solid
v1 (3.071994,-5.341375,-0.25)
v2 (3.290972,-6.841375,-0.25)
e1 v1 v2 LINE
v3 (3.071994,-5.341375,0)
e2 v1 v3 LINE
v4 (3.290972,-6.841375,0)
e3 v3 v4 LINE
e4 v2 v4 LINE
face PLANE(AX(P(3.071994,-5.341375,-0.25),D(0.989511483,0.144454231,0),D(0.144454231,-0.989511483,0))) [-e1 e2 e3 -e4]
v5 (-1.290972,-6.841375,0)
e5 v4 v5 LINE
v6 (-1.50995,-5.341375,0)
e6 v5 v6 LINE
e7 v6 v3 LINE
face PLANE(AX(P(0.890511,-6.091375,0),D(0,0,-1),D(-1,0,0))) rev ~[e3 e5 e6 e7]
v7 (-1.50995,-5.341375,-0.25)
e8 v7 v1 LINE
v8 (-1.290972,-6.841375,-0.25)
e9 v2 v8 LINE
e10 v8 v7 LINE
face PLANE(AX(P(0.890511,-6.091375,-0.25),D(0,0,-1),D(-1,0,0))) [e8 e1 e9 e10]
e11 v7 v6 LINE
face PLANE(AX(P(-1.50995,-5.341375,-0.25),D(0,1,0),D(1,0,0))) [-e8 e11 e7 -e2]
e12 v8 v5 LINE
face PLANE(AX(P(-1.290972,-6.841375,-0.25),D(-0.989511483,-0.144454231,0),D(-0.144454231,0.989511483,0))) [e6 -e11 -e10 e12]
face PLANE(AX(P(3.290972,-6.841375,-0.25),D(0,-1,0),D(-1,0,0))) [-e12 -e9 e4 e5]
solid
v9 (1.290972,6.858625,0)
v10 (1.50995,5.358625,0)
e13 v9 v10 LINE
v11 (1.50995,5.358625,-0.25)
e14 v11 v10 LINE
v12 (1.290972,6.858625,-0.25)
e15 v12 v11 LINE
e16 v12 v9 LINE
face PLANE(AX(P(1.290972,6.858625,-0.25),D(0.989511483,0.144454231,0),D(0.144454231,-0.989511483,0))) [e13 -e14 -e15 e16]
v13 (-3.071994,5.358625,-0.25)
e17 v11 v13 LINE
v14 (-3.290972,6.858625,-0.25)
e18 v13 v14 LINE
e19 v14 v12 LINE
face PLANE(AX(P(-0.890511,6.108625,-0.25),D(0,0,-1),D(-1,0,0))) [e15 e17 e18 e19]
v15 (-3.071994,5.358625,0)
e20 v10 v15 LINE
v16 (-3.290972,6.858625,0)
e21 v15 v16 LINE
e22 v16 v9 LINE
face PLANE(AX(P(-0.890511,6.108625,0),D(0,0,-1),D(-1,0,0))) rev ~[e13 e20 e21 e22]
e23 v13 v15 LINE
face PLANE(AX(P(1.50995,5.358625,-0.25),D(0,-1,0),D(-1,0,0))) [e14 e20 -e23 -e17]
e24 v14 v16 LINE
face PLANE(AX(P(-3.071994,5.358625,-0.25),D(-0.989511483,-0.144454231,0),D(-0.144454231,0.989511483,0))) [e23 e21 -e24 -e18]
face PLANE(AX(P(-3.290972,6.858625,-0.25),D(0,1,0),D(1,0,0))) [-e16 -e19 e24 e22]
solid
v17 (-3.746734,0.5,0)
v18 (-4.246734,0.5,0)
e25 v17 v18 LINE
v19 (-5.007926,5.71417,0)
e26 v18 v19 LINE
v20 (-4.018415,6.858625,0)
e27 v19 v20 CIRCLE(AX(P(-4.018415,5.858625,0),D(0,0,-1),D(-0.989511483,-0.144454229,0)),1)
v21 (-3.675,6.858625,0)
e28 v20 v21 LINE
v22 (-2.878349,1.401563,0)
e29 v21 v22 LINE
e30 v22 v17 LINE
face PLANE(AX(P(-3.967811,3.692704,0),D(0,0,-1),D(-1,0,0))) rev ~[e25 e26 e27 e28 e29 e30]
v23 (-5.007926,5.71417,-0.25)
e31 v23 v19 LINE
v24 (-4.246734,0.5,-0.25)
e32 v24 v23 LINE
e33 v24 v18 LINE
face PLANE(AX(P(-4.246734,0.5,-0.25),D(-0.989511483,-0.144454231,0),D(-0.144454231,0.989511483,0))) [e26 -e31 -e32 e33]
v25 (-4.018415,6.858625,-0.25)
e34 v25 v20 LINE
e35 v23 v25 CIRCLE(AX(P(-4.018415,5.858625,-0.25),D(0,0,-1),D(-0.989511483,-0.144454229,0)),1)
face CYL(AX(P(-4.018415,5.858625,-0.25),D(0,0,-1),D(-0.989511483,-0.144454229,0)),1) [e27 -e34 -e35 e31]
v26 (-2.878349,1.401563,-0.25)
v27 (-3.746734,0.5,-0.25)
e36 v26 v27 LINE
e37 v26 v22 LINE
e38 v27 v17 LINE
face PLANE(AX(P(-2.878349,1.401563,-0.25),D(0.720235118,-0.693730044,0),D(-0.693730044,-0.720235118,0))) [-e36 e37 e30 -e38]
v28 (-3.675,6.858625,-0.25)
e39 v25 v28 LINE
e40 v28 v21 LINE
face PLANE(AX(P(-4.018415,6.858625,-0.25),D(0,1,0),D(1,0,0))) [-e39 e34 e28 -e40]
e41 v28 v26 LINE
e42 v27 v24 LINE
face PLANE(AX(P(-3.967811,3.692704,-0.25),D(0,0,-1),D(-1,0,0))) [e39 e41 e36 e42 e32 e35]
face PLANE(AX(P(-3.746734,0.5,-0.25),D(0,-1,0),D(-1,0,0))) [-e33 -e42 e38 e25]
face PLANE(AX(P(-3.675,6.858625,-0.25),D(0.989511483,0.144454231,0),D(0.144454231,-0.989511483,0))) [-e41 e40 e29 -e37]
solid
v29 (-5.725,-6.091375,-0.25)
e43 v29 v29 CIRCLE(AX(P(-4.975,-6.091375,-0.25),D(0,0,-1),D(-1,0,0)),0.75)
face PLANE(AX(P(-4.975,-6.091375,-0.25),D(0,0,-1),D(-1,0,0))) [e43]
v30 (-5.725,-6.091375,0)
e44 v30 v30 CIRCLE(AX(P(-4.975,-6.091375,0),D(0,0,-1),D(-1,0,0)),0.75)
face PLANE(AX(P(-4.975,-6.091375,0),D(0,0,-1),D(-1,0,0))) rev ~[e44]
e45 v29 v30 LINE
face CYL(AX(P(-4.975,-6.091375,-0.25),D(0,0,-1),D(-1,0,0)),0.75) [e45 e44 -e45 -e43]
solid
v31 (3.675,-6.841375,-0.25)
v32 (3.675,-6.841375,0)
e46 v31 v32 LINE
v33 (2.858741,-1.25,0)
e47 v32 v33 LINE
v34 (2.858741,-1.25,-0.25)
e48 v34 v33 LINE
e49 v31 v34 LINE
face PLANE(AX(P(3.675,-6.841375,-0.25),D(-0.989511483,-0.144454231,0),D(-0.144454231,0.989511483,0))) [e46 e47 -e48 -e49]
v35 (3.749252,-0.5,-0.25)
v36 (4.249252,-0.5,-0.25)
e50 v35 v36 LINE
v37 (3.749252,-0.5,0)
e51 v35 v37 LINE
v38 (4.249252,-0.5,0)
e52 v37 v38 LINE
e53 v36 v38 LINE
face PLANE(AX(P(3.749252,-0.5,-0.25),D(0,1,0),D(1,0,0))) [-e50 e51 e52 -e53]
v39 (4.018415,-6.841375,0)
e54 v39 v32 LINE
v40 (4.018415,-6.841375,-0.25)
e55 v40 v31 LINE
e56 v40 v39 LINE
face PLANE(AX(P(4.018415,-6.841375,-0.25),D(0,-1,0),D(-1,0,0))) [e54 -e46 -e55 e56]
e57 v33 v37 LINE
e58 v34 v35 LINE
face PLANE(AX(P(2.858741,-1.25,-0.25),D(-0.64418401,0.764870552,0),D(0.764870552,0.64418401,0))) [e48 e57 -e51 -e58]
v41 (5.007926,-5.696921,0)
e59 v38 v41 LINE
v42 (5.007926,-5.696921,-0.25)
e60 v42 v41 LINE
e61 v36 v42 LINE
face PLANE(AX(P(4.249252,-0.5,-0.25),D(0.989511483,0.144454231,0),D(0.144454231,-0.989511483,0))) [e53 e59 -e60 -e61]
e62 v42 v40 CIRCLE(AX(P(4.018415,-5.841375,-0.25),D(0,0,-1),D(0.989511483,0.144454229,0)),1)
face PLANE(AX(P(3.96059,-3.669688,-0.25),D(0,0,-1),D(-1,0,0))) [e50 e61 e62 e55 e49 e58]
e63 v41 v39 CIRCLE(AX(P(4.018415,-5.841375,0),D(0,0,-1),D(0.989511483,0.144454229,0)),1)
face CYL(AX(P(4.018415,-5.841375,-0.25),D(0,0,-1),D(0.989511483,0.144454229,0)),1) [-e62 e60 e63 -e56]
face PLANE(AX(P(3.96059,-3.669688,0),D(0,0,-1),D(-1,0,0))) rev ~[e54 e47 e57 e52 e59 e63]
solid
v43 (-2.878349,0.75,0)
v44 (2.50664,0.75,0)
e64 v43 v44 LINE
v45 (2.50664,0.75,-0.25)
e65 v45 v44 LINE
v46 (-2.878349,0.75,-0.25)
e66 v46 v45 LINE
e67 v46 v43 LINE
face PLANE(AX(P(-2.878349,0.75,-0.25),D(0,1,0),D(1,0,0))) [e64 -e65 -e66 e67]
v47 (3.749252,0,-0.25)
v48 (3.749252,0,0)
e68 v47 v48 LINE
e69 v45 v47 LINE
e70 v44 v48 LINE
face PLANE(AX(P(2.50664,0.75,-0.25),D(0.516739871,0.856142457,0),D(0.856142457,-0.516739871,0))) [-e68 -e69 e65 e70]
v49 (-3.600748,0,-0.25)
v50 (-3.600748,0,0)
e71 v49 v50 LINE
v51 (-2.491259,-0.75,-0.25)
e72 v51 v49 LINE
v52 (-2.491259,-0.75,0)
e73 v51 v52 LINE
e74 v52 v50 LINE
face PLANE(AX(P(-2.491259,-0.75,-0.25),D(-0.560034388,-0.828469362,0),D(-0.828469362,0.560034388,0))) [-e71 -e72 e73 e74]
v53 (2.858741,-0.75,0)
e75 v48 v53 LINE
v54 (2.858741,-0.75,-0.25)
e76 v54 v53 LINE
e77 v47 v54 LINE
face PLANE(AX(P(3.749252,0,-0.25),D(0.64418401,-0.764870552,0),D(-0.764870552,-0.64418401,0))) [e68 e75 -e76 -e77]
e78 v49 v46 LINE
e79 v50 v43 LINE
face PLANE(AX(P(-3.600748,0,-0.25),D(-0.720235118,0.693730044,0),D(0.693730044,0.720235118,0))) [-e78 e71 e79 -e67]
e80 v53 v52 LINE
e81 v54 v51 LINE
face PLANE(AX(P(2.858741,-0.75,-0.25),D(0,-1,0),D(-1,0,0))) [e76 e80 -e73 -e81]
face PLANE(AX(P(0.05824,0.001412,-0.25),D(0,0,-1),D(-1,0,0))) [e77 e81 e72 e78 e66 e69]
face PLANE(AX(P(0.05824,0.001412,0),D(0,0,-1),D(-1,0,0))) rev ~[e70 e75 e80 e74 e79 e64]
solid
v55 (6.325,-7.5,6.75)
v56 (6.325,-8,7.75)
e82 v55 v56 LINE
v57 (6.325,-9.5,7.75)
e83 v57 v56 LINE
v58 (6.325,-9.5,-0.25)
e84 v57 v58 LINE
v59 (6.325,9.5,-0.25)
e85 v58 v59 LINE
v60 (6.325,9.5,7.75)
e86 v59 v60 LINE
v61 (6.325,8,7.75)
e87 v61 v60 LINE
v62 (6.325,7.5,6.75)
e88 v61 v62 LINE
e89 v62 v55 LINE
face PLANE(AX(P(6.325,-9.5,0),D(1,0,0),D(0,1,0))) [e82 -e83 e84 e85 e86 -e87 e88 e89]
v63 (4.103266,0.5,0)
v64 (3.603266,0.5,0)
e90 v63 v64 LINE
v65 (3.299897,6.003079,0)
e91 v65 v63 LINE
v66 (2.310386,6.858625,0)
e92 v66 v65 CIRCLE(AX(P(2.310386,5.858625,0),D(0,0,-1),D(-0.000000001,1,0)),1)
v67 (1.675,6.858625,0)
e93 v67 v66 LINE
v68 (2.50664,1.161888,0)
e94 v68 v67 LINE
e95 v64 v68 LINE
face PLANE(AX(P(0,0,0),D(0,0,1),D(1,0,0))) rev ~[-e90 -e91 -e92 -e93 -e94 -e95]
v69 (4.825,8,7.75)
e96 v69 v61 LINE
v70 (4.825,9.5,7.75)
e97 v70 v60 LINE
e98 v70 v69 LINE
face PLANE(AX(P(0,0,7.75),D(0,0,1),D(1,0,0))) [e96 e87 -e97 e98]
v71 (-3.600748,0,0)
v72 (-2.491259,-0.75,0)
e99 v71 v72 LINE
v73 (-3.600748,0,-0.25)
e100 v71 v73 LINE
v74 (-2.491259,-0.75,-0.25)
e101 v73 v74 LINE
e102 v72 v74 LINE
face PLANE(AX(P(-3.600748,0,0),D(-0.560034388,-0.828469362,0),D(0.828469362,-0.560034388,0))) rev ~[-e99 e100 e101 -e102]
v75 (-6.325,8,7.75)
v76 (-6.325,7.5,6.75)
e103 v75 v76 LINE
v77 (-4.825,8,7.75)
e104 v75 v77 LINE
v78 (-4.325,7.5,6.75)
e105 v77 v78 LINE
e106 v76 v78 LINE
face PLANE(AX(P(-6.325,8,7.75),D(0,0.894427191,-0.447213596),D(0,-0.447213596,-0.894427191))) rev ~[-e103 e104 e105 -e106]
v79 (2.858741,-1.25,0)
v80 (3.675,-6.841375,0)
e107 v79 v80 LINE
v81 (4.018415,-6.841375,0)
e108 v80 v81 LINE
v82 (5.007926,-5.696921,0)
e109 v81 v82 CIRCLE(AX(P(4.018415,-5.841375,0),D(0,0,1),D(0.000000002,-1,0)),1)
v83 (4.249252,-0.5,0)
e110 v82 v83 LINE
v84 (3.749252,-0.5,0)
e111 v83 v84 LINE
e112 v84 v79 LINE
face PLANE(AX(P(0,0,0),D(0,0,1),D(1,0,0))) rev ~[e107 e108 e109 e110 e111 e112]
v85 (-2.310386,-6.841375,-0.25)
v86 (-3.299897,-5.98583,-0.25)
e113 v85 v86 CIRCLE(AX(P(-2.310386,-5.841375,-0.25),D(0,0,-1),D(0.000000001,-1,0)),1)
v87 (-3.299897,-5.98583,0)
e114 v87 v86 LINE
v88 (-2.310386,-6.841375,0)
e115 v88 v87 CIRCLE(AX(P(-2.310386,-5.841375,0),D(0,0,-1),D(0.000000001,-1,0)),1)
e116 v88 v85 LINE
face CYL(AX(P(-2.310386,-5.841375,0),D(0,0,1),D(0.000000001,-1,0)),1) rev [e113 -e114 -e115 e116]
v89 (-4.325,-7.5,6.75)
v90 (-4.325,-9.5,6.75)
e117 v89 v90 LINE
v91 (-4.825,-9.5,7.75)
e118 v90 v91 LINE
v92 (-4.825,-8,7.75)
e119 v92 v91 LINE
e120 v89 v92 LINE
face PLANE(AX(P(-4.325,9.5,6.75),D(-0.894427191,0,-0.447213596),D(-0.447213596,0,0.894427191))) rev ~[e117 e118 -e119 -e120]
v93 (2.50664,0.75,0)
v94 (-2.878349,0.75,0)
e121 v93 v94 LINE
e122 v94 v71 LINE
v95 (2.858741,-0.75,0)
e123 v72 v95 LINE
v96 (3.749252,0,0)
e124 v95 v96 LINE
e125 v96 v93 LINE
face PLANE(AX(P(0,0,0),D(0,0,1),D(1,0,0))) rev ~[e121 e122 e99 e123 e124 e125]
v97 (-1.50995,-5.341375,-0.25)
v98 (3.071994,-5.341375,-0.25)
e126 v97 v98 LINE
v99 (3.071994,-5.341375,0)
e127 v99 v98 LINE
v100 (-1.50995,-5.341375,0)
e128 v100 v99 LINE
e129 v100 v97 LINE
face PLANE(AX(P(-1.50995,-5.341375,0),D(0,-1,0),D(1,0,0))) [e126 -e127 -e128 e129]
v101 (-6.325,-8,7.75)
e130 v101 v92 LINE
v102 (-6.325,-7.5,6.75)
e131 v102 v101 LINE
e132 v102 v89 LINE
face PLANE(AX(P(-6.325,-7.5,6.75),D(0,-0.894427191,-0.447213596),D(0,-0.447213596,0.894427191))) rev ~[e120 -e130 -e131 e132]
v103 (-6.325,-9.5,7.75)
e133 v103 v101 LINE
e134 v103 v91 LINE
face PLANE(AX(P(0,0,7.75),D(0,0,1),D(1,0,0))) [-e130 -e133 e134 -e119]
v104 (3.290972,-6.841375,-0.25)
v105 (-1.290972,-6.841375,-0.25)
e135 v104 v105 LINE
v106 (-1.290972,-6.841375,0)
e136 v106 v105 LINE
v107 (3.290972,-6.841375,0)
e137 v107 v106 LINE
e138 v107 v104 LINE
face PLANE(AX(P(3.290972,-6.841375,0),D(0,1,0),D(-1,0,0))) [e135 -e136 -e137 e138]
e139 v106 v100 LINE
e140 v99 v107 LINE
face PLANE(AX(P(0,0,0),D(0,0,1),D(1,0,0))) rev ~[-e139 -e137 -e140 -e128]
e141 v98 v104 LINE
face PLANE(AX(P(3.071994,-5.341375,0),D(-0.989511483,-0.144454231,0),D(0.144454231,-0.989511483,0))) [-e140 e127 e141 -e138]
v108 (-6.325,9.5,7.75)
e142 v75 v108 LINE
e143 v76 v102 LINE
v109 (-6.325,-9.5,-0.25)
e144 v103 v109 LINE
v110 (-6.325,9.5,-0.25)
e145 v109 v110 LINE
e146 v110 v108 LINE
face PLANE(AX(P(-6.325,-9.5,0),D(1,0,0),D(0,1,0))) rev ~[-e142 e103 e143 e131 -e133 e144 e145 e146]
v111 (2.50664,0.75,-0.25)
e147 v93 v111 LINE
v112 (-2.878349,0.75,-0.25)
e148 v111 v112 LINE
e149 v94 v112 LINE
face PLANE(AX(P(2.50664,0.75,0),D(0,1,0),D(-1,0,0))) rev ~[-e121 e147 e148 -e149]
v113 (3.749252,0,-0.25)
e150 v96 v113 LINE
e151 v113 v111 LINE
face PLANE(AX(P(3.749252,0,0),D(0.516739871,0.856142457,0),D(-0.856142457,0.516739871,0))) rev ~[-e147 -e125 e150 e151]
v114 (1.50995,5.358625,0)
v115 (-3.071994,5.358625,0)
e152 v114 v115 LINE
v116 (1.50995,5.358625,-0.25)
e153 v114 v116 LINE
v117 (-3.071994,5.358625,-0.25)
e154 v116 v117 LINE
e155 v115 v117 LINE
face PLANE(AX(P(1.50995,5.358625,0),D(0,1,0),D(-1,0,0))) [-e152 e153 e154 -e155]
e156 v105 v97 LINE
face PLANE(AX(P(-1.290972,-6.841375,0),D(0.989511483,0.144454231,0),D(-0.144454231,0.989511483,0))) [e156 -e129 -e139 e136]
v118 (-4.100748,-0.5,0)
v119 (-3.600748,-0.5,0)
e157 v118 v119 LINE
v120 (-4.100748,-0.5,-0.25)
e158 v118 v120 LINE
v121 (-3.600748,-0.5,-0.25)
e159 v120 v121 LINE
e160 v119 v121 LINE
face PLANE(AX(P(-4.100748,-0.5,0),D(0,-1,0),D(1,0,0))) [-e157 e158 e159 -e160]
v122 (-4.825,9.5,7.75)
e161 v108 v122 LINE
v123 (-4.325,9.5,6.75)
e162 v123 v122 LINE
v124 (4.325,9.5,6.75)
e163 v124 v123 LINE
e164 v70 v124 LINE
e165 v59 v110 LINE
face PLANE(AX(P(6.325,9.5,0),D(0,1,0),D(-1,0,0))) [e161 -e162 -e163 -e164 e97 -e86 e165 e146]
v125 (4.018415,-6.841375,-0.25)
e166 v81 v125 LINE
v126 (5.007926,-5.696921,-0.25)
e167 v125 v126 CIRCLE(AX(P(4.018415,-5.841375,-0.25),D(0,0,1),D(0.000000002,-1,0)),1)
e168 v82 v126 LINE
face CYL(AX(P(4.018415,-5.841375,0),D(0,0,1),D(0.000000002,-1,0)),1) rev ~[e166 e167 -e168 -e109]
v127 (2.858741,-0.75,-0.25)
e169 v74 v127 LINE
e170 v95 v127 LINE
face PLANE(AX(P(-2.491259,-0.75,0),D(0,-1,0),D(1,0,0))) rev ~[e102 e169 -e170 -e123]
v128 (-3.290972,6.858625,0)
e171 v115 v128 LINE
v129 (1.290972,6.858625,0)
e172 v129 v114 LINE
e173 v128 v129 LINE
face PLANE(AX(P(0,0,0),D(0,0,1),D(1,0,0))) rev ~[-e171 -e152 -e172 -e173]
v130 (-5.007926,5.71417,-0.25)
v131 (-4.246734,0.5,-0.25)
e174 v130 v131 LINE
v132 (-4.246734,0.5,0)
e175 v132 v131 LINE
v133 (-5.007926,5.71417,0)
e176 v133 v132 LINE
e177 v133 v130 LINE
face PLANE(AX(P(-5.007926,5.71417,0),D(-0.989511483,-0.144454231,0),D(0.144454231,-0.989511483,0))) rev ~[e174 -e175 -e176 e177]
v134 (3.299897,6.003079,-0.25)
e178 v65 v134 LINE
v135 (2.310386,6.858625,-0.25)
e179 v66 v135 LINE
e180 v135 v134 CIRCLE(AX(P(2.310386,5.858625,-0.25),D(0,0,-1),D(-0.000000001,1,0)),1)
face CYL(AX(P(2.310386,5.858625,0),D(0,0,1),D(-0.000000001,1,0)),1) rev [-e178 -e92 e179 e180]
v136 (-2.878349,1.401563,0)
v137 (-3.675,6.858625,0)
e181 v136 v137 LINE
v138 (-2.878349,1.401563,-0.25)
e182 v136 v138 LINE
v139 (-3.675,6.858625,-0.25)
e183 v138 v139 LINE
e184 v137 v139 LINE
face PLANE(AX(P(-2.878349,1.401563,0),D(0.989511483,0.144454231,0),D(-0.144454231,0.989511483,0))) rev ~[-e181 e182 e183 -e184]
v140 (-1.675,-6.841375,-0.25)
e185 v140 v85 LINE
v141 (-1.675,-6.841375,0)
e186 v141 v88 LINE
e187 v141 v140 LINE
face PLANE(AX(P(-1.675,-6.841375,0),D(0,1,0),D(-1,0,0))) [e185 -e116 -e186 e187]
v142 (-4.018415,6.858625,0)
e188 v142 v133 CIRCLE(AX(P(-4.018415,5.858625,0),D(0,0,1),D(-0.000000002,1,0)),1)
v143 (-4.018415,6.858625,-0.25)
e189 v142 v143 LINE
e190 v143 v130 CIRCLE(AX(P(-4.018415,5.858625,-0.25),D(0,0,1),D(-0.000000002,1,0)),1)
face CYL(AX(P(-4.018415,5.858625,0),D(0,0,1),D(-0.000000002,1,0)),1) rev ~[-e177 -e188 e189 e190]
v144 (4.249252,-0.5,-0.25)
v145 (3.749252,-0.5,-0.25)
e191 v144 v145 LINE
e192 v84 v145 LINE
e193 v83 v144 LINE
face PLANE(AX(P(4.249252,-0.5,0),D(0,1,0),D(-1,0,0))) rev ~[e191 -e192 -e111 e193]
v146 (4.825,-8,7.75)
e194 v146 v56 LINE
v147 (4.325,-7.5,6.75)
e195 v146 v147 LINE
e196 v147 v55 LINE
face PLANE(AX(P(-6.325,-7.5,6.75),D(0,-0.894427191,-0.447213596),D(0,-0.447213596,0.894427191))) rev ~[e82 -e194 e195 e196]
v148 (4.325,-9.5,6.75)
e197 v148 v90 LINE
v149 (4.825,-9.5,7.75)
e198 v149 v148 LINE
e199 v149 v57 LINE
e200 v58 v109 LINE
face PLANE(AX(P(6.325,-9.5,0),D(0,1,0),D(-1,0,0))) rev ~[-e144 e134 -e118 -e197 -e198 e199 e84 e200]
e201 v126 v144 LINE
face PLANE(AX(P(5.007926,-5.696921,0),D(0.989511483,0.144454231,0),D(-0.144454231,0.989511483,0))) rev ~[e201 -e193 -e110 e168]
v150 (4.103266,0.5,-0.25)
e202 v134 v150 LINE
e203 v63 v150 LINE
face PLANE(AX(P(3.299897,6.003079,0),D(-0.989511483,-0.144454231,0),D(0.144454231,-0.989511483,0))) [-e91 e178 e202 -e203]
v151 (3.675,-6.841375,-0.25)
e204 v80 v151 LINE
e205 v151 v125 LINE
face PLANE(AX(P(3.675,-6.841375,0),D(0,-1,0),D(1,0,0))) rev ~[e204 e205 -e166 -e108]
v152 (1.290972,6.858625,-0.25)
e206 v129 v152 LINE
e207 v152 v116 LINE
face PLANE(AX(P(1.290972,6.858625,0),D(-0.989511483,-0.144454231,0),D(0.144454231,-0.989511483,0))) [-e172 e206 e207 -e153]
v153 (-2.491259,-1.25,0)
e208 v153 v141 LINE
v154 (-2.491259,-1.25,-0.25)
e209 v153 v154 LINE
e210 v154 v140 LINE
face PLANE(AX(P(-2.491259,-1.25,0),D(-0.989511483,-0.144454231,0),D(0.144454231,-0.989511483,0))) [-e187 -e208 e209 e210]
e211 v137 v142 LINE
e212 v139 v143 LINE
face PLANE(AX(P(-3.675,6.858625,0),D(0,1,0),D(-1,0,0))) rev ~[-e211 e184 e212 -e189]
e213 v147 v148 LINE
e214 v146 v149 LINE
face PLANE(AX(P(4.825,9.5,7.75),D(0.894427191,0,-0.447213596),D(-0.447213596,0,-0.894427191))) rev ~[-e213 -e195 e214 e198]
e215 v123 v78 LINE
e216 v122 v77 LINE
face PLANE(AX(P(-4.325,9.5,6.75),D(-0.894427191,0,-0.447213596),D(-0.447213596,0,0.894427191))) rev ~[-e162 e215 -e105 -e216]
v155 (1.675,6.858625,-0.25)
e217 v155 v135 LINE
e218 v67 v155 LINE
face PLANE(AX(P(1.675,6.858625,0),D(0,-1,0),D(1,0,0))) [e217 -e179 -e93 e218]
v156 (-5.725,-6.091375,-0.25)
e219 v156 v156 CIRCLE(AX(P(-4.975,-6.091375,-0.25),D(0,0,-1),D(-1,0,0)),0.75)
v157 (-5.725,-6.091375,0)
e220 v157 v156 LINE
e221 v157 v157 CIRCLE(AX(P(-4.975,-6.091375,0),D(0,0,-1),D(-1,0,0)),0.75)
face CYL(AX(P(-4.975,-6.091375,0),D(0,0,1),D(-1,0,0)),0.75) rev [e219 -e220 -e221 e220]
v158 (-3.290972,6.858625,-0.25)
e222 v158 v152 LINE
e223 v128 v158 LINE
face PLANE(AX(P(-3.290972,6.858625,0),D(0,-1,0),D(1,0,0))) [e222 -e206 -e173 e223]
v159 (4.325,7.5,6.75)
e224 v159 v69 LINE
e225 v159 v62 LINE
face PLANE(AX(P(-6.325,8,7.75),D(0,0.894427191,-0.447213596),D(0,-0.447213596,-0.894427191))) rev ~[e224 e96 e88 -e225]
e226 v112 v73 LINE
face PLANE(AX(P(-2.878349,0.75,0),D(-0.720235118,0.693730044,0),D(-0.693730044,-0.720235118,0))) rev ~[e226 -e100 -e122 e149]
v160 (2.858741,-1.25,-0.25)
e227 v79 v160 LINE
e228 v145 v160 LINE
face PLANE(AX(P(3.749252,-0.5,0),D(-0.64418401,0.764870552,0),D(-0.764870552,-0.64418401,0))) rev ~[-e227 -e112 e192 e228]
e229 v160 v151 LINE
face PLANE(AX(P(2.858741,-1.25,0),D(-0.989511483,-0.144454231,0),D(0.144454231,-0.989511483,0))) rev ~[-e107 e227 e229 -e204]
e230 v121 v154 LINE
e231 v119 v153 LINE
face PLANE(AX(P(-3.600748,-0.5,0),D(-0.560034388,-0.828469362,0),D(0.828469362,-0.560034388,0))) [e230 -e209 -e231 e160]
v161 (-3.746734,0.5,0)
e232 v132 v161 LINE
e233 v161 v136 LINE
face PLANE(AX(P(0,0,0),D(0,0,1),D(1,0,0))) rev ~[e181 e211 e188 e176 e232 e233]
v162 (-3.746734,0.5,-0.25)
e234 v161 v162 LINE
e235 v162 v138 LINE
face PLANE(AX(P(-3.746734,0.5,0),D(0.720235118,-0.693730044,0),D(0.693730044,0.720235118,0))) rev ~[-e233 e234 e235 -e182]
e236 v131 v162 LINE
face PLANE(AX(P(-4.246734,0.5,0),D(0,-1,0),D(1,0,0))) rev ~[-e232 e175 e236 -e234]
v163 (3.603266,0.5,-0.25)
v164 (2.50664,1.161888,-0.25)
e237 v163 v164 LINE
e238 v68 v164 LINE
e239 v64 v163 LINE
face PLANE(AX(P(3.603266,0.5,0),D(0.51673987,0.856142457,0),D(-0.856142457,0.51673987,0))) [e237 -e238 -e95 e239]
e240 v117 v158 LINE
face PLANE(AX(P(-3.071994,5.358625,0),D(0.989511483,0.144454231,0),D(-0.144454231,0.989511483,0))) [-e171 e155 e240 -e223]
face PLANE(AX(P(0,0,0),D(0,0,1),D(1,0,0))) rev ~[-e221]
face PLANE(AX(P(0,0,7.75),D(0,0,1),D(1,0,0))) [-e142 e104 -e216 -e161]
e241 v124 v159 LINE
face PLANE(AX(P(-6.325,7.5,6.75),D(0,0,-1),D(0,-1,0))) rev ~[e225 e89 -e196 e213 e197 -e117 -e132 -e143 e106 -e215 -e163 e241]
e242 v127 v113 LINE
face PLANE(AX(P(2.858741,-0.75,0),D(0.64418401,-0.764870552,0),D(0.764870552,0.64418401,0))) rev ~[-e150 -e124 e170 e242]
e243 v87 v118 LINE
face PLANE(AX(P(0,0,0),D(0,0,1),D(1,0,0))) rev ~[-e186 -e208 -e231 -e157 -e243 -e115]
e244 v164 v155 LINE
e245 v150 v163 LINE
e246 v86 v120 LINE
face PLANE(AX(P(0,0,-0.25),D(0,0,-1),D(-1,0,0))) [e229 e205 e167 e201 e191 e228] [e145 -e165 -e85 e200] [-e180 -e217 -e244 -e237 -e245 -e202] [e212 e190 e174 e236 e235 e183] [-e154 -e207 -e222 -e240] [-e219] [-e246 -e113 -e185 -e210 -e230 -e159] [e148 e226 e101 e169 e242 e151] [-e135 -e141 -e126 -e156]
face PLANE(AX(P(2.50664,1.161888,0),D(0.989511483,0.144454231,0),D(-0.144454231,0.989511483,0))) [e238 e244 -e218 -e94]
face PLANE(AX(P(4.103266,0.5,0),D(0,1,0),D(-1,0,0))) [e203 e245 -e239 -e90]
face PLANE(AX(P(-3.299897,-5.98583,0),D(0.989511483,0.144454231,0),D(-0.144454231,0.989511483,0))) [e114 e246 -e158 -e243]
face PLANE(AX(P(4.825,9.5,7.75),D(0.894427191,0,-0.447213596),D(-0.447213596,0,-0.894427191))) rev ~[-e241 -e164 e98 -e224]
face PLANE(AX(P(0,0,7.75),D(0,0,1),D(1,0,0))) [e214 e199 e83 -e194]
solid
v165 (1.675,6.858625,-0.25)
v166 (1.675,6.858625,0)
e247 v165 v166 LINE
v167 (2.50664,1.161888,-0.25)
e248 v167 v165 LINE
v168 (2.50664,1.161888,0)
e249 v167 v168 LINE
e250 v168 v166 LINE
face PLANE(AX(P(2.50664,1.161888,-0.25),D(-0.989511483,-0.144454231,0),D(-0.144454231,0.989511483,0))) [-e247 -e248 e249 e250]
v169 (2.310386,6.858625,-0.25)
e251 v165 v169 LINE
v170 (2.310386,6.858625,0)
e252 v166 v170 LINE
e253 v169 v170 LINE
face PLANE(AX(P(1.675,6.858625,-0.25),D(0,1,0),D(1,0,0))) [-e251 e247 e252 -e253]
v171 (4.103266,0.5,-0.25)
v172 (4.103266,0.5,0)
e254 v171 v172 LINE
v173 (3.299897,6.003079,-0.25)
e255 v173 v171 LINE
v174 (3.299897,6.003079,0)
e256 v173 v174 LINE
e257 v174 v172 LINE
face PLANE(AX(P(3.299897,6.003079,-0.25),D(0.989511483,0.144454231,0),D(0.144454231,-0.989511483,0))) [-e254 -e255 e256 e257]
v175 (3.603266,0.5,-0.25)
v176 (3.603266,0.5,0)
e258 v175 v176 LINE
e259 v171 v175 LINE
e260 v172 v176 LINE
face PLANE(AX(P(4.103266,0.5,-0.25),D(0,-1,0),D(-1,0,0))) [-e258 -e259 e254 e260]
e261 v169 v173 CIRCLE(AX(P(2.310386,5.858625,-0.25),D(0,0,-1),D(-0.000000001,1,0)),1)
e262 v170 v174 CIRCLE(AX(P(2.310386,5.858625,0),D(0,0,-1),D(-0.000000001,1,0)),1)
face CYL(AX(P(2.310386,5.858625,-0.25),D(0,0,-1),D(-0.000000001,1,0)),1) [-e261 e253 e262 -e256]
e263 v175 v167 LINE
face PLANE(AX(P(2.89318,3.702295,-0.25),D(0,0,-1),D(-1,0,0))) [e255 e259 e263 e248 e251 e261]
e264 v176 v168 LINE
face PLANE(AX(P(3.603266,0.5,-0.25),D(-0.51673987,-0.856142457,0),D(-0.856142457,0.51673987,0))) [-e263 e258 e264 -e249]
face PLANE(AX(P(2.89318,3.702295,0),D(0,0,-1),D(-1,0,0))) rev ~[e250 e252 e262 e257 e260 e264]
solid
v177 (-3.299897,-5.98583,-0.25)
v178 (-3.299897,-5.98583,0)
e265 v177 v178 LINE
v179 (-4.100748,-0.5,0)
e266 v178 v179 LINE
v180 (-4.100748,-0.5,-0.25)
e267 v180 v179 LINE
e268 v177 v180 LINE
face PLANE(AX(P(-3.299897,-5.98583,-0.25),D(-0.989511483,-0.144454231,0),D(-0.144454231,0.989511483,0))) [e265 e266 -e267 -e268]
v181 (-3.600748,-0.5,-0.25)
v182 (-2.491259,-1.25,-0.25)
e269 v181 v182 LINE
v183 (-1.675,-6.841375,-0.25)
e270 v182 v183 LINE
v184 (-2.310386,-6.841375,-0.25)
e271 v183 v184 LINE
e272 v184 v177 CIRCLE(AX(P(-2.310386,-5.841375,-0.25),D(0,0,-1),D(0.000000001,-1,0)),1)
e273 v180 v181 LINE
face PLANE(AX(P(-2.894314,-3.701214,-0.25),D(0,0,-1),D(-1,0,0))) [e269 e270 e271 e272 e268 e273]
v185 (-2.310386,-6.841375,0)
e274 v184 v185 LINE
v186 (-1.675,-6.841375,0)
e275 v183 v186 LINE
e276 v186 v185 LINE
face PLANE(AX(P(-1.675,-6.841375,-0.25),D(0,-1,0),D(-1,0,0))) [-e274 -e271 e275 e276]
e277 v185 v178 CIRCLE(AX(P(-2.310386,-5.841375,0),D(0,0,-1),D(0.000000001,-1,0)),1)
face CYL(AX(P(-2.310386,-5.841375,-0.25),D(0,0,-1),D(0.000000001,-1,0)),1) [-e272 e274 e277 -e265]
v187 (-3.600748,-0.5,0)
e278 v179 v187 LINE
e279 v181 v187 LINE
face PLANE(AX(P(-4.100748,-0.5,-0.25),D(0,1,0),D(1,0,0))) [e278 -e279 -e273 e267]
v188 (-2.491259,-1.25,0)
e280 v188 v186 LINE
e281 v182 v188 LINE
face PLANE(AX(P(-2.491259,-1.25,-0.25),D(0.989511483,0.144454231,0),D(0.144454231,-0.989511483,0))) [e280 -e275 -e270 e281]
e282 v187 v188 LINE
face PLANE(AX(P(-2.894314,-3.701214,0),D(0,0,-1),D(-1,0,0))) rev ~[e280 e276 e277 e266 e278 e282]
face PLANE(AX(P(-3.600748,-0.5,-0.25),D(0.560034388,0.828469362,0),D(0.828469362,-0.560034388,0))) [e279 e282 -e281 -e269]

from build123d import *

# Parameters (mm, degrees)
IZIM1_W                       = 12.65
IZIM1_H                       = 19
Y_KSEKLIK_EKSTR_ZYON1_DEPTH   = 7.75
KES_EKSTR_ZYON1_DEPTH         = 20
KES_EKSTR_ZYON2_DEPTH         = 13.65
IZIM4_W                       = 12.35
IZIM4_H                       = 18.7
IZIM4_R                       = 0.75
Y_KSEKLIK_EKSTR_ZYON2_DEPTH   = 0.25
IZIM5_R                       = 0.75
Y_KSEKLIK_EKSTR_ZYON3_DEPTH   = 0.25
Y_KSEKLIK_EKSTR_ZYON3_2_DEPTH = 0.25
Y_KSEKLIK_EKSTR_ZYON3_3_DEPTH = 0.25
Y_KSEKLIK_EKSTR_ZYON3_4_DEPTH = 0.25
Y_KSEKLIK_EKSTR_ZYON3_5_DEPTH = 0.25
Y_KSEKLIK_EKSTR_ZYON3_6_DEPTH = 0.25
Y_KSEKLIK_EKSTR_ZYON3_7_DEPTH = 0.25
Y_KSEKLIK_EKSTR_ZYON3_8_DEPTH = 0.25
IZIM6_W                       = 12.65
IZIM6_H                       = 19
IZIM6_W_2                     = 12.35
IZIM6_H_2                     = 18.7
Y_KSEKLIK_EKSTR_ZYON4_DEPTH   = 0.25


with BuildPart() as part:
    # Çizim1 → Yükseklik-Ekstrüzyon1 (new body)
    with BuildSketch(Plane.XY):
        Rectangle(IZIM1_W, IZIM1_H)
    extrude(amount=Y_KSEKLIK_EKSTR_ZYON1_DEPTH)

    # Çizim2 → Kes-Ekstrüzyon1 (cut, through all)
    with BuildSketch(Plane(origin=(0, 9.5, 0), x_dir=(1, 0, 0), z_dir=(0, 1, 0))):
        Polygon((-4.325, -6.75), (-4.825, -7.75), (4.825, -7.75), (4.325, -6.75), align=None)
    extrude(amount=-KES_EKSTR_ZYON1_DEPTH, mode=Mode.SUBTRACT)

    # Çizim3 → Kes-Ekstrüzyon2 (cut, through all)
    with BuildSketch(Plane.ZY.offset(6.325)):
        Polygon((7.75, 8), (6.75, 7.5), (6.75, -7.5), (7.75, -8), align=None)
    extrude(amount=-KES_EKSTR_ZYON2_DEPTH, mode=Mode.SUBTRACT)



with BuildPart() as body_2:
    # Çizim4 → Yükseklik-Ekstrüzyon2 (new body)
    with BuildSketch(Plane(origin=(0, 0, 0), x_dir=(-1, 0, 0), z_dir=(0, 0, -1))):
        with Locations((0, 0.008624693)):
            Rectangle(IZIM4_W, IZIM4_H)
        with Locations((4.975, -6.091375307)):
            Circle(IZIM4_R, mode=Mode.SUBTRACT)
        with BuildLine():
            Line((5.00792639, 5.714170462), (4.246733621, 0.5))
            Line((4.246733621, 0.5), (3.746733621, 0.5))
            Line((3.746733621, 0.5), (2.878348659, 1.401563009))
            Line((2.878348659, 1.401563009), (3.675, 6.858624693))
            Line((3.675, 6.858624693), (4.018414907, 6.858624693))
            ThreePointArc((4.018414907, 6.858624693), (4.774871855, 6.512668181), (5.00792639, 5.714170462))
        make_face(mode=Mode.SUBTRACT)
        with BuildLine():
            Line((1.675, -6.841375307), (2.310385709, -6.841375307))
            ThreePointArc((2.310385709, -6.841375307), (2.964429198, -6.597832256), (3.299897193, -5.985829538))
            Line((3.299897193, -5.985829538), (4.10074822, -0.5))
            Line((4.10074822, -0.5), (3.60074822, -0.5))
            Line((3.60074822, -0.5), (2.491259169, -1.25))
            Line((2.491259169, -1.25), (1.675, -6.841375307))
        make_face(mode=Mode.SUBTRACT)
        with BuildLine():
            Line((-3.299897193, 6.003078924), (-4.103266379, 0.5))
            Line((-4.103266379, 0.5), (-3.603266379, 0.5))
            Line((-3.603266379, 0.5), (-2.506640402, 1.161887938))
            Line((-2.506640402, 1.161887938), (-1.675, 6.858624693))
            Line((-1.675, 6.858624693), (-2.310385709, 6.858624693))
            ThreePointArc((-2.310385709, 6.858624693), (-2.964429198, 6.615081642), (-3.299897193, 6.003078924))
        make_face(mode=Mode.SUBTRACT)
        with BuildLine():
            Line((-5.00792639, -5.696921076), (-4.24925178, -0.5))
            Line((-4.24925178, -0.5), (-3.74925178, -0.5))
            Line((-3.74925178, -0.5), (-2.858740831, -1.25))
            Line((-2.858740831, -1.25), (-3.675, -6.841375307))
            Line((-3.675, -6.841375307), (-4.018414907, -6.841375307))
            ThreePointArc((-4.018414907, -6.841375307), (-4.774871855, -6.495418795), (-5.00792639, -5.696921076))
        make_face(mode=Mode.SUBTRACT)
        Polygon((-3.071994015, -5.341375307), (-3.290972117, -6.841375307), (1.290972117, -6.841375307), (1.509950219, -5.341375307), align=None, mode=Mode.SUBTRACT)
        Polygon((-2.506640402, 0.75), (2.878348659, 0.75), (3.60074822, 0), (2.491259169, -0.75), (-2.858740831, -0.75), (-3.74925178, 0), align=None, mode=Mode.SUBTRACT)
        Polygon((-1.290972117, 6.858624693), (-1.509950219, 5.358624693), (3.071994015, 5.358624693), (3.290972117, 6.858624693), align=None, mode=Mode.SUBTRACT)
    extrude(amount=Y_KSEKLIK_EKSTR_ZYON2_DEPTH)


with BuildPart() as body_3:
    # Çizim5 → Yükseklik-Ekstrüzyon3 (new body)
    with BuildSketch(Plane(origin=(0, 0, -0.25), x_dir=(-1, 0, 0), z_dir=(0, 0, -1))):
        with Locations((4.975, -6.091375307)):
            Circle(IZIM5_R)
    extrude(amount=-Y_KSEKLIK_EKSTR_ZYON3_DEPTH)


with BuildPart() as body_4:
    # Çizim5 → Y_kseklik-Ekstr_zyon3 2 (new body)
    with BuildSketch(Plane(origin=(0, 0, -0.25), x_dir=(-1, 0, 0), z_dir=(0, 0, -1))):
        Polygon((3.290972117, 6.858624693), (-1.290972117, 6.858624693), (-1.509950219, 5.358624693), (3.071994015, 5.358624693), align=None)
    extrude(amount=-Y_KSEKLIK_EKSTR_ZYON3_2_DEPTH)


with BuildPart() as body_5:
    # Çizim5 → Y_kseklik-Ekstr_zyon3 3 (new body)
    with BuildSketch(Plane(origin=(0, 0, -0.25), x_dir=(-1, 0, 0), z_dir=(0, 0, -1))):
        with BuildLine():
            Line((-2.506640402, 1.161887938), (-1.675, 6.858624693))
            Line((-1.675, 6.858624693), (-2.310385709, 6.858624693))
            ThreePointArc((-2.310385709, 6.858624693), (-2.964429198, 6.615081642), (-3.299897193, 6.003078924))
            Line((-3.299897193, 6.003078924), (-4.103266379, 0.5))
            Line((-4.103266379, 0.5), (-3.603266379, 0.5))
            Line((-3.603266379, 0.5), (-2.506640402, 1.161887938))
        make_face()
    extrude(amount=-Y_KSEKLIK_EKSTR_ZYON3_3_DEPTH)


with BuildPart() as body_6:
    # Çizim5 → Y_kseklik-Ekstr_zyon3 4 (new body)
    with BuildSketch(Plane(origin=(0, 0, -0.25), x_dir=(-1, 0, 0), z_dir=(0, 0, -1))):
        Polygon((-2.506640402, 0.75), (-3.74925178, 0), (-2.858740831, -0.75), (2.491259169, -0.75), (3.60074822, 0), (2.878348659, 0.75), align=None)
    extrude(amount=-Y_KSEKLIK_EKSTR_ZYON3_4_DEPTH)


with BuildPart() as body_7:
    # Çizim5 → Y_kseklik-Ekstr_zyon3 5 (new body)
    with BuildSketch(Plane(origin=(0, 0, -0.25), x_dir=(-1, 0, 0), z_dir=(0, 0, -1))):
        with BuildLine():
            Line((-2.858740831, -1.25), (-3.74925178, -0.5))
            Line((-3.74925178, -0.5), (-4.24925178, -0.5))
            Line((-4.24925178, -0.5), (-5.00792639, -5.696921076))
            ThreePointArc((-5.00792639, -5.696921076), (-4.774871855, -6.495418795), (-4.018414907, -6.841375307))
            Line((-4.018414907, -6.841375307), (-3.675, -6.841375307))
            Line((-3.675, -6.841375307), (-2.858740831, -1.25))
        make_face()
    extrude(amount=-Y_KSEKLIK_EKSTR_ZYON3_5_DEPTH)


with BuildPart() as body_8:
    # Çizim5 → Y_kseklik-Ekstr_zyon3 6 (new body)
    with BuildSketch(Plane(origin=(0, 0, -0.25), x_dir=(-1, 0, 0), z_dir=(0, 0, -1))):
        with BuildLine():
            Line((3.675, 6.858624693), (2.878348659, 1.401563009))
            Line((2.878348659, 1.401563009), (3.746733621, 0.5))
            Line((3.746733621, 0.5), (4.246733621, 0.5))
            Line((4.246733621, 0.5), (5.00792639, 5.714170462))
            ThreePointArc((5.00792639, 5.714170462), (4.774871855, 6.512668181), (4.018414907, 6.858624693))
            Line((4.018414907, 6.858624693), (3.675, 6.858624693))
        make_face()
    extrude(amount=-Y_KSEKLIK_EKSTR_ZYON3_6_DEPTH)


with BuildPart() as body_9:
    # Çizim5 → Y_kseklik-Ekstr_zyon3 7 (new body)
    with BuildSketch(Plane(origin=(0, 0, -0.25), x_dir=(-1, 0, 0), z_dir=(0, 0, -1))):
        with BuildLine():
            Line((3.60074822, -0.5), (2.491259169, -1.25))
            Line((2.491259169, -1.25), (1.675, -6.841375307))
            Line((1.675, -6.841375307), (2.310385709, -6.841375307))
            ThreePointArc((2.310385709, -6.841375307), (2.964429198, -6.597832256), (3.299897193, -5.985829538))
            Line((3.299897193, -5.985829538), (4.10074822, -0.5))
            Line((4.10074822, -0.5), (3.60074822, -0.5))
        make_face()
    extrude(amount=-Y_KSEKLIK_EKSTR_ZYON3_7_DEPTH)


with BuildPart() as body_10:
    # Çizim5 → Y_kseklik-Ekstr_zyon3 8 (new body)
    with BuildSketch(Plane(origin=(0, 0, -0.25), x_dir=(-1, 0, 0), z_dir=(0, 0, -1))):
        Polygon((-3.071994015, -5.341375307), (-3.290972117, -6.841375307), (1.290972117, -6.841375307), (1.509950219, -5.341375307), align=None)
    extrude(amount=-Y_KSEKLIK_EKSTR_ZYON3_8_DEPTH)


with BuildPart() as part_1:
    add(part.part)

    add(body_2.part)  # Yükseklik-Ekstrüzyon4 merges body 2
    # Çizim6 → Yükseklik-Ekstrüzyon4 (add, through all)
    with BuildSketch(Plane(origin=(0, 0, 0), x_dir=(-1, 0, 0), z_dir=(0, 0, -1))):
        Rectangle(IZIM6_W, IZIM6_H)
        with Locations((0, 0.008624693)):
            Rectangle(IZIM6_W_2, IZIM6_H_2, mode=Mode.SUBTRACT)
    extrude(amount=Y_KSEKLIK_EKSTR_ZYON4_DEPTH)


solid = Compound([body_3.part, body_4.part, body_5.part, body_6.part, body_7.part, body_8.part, body_9.part, body_10.part, part_1.part])
